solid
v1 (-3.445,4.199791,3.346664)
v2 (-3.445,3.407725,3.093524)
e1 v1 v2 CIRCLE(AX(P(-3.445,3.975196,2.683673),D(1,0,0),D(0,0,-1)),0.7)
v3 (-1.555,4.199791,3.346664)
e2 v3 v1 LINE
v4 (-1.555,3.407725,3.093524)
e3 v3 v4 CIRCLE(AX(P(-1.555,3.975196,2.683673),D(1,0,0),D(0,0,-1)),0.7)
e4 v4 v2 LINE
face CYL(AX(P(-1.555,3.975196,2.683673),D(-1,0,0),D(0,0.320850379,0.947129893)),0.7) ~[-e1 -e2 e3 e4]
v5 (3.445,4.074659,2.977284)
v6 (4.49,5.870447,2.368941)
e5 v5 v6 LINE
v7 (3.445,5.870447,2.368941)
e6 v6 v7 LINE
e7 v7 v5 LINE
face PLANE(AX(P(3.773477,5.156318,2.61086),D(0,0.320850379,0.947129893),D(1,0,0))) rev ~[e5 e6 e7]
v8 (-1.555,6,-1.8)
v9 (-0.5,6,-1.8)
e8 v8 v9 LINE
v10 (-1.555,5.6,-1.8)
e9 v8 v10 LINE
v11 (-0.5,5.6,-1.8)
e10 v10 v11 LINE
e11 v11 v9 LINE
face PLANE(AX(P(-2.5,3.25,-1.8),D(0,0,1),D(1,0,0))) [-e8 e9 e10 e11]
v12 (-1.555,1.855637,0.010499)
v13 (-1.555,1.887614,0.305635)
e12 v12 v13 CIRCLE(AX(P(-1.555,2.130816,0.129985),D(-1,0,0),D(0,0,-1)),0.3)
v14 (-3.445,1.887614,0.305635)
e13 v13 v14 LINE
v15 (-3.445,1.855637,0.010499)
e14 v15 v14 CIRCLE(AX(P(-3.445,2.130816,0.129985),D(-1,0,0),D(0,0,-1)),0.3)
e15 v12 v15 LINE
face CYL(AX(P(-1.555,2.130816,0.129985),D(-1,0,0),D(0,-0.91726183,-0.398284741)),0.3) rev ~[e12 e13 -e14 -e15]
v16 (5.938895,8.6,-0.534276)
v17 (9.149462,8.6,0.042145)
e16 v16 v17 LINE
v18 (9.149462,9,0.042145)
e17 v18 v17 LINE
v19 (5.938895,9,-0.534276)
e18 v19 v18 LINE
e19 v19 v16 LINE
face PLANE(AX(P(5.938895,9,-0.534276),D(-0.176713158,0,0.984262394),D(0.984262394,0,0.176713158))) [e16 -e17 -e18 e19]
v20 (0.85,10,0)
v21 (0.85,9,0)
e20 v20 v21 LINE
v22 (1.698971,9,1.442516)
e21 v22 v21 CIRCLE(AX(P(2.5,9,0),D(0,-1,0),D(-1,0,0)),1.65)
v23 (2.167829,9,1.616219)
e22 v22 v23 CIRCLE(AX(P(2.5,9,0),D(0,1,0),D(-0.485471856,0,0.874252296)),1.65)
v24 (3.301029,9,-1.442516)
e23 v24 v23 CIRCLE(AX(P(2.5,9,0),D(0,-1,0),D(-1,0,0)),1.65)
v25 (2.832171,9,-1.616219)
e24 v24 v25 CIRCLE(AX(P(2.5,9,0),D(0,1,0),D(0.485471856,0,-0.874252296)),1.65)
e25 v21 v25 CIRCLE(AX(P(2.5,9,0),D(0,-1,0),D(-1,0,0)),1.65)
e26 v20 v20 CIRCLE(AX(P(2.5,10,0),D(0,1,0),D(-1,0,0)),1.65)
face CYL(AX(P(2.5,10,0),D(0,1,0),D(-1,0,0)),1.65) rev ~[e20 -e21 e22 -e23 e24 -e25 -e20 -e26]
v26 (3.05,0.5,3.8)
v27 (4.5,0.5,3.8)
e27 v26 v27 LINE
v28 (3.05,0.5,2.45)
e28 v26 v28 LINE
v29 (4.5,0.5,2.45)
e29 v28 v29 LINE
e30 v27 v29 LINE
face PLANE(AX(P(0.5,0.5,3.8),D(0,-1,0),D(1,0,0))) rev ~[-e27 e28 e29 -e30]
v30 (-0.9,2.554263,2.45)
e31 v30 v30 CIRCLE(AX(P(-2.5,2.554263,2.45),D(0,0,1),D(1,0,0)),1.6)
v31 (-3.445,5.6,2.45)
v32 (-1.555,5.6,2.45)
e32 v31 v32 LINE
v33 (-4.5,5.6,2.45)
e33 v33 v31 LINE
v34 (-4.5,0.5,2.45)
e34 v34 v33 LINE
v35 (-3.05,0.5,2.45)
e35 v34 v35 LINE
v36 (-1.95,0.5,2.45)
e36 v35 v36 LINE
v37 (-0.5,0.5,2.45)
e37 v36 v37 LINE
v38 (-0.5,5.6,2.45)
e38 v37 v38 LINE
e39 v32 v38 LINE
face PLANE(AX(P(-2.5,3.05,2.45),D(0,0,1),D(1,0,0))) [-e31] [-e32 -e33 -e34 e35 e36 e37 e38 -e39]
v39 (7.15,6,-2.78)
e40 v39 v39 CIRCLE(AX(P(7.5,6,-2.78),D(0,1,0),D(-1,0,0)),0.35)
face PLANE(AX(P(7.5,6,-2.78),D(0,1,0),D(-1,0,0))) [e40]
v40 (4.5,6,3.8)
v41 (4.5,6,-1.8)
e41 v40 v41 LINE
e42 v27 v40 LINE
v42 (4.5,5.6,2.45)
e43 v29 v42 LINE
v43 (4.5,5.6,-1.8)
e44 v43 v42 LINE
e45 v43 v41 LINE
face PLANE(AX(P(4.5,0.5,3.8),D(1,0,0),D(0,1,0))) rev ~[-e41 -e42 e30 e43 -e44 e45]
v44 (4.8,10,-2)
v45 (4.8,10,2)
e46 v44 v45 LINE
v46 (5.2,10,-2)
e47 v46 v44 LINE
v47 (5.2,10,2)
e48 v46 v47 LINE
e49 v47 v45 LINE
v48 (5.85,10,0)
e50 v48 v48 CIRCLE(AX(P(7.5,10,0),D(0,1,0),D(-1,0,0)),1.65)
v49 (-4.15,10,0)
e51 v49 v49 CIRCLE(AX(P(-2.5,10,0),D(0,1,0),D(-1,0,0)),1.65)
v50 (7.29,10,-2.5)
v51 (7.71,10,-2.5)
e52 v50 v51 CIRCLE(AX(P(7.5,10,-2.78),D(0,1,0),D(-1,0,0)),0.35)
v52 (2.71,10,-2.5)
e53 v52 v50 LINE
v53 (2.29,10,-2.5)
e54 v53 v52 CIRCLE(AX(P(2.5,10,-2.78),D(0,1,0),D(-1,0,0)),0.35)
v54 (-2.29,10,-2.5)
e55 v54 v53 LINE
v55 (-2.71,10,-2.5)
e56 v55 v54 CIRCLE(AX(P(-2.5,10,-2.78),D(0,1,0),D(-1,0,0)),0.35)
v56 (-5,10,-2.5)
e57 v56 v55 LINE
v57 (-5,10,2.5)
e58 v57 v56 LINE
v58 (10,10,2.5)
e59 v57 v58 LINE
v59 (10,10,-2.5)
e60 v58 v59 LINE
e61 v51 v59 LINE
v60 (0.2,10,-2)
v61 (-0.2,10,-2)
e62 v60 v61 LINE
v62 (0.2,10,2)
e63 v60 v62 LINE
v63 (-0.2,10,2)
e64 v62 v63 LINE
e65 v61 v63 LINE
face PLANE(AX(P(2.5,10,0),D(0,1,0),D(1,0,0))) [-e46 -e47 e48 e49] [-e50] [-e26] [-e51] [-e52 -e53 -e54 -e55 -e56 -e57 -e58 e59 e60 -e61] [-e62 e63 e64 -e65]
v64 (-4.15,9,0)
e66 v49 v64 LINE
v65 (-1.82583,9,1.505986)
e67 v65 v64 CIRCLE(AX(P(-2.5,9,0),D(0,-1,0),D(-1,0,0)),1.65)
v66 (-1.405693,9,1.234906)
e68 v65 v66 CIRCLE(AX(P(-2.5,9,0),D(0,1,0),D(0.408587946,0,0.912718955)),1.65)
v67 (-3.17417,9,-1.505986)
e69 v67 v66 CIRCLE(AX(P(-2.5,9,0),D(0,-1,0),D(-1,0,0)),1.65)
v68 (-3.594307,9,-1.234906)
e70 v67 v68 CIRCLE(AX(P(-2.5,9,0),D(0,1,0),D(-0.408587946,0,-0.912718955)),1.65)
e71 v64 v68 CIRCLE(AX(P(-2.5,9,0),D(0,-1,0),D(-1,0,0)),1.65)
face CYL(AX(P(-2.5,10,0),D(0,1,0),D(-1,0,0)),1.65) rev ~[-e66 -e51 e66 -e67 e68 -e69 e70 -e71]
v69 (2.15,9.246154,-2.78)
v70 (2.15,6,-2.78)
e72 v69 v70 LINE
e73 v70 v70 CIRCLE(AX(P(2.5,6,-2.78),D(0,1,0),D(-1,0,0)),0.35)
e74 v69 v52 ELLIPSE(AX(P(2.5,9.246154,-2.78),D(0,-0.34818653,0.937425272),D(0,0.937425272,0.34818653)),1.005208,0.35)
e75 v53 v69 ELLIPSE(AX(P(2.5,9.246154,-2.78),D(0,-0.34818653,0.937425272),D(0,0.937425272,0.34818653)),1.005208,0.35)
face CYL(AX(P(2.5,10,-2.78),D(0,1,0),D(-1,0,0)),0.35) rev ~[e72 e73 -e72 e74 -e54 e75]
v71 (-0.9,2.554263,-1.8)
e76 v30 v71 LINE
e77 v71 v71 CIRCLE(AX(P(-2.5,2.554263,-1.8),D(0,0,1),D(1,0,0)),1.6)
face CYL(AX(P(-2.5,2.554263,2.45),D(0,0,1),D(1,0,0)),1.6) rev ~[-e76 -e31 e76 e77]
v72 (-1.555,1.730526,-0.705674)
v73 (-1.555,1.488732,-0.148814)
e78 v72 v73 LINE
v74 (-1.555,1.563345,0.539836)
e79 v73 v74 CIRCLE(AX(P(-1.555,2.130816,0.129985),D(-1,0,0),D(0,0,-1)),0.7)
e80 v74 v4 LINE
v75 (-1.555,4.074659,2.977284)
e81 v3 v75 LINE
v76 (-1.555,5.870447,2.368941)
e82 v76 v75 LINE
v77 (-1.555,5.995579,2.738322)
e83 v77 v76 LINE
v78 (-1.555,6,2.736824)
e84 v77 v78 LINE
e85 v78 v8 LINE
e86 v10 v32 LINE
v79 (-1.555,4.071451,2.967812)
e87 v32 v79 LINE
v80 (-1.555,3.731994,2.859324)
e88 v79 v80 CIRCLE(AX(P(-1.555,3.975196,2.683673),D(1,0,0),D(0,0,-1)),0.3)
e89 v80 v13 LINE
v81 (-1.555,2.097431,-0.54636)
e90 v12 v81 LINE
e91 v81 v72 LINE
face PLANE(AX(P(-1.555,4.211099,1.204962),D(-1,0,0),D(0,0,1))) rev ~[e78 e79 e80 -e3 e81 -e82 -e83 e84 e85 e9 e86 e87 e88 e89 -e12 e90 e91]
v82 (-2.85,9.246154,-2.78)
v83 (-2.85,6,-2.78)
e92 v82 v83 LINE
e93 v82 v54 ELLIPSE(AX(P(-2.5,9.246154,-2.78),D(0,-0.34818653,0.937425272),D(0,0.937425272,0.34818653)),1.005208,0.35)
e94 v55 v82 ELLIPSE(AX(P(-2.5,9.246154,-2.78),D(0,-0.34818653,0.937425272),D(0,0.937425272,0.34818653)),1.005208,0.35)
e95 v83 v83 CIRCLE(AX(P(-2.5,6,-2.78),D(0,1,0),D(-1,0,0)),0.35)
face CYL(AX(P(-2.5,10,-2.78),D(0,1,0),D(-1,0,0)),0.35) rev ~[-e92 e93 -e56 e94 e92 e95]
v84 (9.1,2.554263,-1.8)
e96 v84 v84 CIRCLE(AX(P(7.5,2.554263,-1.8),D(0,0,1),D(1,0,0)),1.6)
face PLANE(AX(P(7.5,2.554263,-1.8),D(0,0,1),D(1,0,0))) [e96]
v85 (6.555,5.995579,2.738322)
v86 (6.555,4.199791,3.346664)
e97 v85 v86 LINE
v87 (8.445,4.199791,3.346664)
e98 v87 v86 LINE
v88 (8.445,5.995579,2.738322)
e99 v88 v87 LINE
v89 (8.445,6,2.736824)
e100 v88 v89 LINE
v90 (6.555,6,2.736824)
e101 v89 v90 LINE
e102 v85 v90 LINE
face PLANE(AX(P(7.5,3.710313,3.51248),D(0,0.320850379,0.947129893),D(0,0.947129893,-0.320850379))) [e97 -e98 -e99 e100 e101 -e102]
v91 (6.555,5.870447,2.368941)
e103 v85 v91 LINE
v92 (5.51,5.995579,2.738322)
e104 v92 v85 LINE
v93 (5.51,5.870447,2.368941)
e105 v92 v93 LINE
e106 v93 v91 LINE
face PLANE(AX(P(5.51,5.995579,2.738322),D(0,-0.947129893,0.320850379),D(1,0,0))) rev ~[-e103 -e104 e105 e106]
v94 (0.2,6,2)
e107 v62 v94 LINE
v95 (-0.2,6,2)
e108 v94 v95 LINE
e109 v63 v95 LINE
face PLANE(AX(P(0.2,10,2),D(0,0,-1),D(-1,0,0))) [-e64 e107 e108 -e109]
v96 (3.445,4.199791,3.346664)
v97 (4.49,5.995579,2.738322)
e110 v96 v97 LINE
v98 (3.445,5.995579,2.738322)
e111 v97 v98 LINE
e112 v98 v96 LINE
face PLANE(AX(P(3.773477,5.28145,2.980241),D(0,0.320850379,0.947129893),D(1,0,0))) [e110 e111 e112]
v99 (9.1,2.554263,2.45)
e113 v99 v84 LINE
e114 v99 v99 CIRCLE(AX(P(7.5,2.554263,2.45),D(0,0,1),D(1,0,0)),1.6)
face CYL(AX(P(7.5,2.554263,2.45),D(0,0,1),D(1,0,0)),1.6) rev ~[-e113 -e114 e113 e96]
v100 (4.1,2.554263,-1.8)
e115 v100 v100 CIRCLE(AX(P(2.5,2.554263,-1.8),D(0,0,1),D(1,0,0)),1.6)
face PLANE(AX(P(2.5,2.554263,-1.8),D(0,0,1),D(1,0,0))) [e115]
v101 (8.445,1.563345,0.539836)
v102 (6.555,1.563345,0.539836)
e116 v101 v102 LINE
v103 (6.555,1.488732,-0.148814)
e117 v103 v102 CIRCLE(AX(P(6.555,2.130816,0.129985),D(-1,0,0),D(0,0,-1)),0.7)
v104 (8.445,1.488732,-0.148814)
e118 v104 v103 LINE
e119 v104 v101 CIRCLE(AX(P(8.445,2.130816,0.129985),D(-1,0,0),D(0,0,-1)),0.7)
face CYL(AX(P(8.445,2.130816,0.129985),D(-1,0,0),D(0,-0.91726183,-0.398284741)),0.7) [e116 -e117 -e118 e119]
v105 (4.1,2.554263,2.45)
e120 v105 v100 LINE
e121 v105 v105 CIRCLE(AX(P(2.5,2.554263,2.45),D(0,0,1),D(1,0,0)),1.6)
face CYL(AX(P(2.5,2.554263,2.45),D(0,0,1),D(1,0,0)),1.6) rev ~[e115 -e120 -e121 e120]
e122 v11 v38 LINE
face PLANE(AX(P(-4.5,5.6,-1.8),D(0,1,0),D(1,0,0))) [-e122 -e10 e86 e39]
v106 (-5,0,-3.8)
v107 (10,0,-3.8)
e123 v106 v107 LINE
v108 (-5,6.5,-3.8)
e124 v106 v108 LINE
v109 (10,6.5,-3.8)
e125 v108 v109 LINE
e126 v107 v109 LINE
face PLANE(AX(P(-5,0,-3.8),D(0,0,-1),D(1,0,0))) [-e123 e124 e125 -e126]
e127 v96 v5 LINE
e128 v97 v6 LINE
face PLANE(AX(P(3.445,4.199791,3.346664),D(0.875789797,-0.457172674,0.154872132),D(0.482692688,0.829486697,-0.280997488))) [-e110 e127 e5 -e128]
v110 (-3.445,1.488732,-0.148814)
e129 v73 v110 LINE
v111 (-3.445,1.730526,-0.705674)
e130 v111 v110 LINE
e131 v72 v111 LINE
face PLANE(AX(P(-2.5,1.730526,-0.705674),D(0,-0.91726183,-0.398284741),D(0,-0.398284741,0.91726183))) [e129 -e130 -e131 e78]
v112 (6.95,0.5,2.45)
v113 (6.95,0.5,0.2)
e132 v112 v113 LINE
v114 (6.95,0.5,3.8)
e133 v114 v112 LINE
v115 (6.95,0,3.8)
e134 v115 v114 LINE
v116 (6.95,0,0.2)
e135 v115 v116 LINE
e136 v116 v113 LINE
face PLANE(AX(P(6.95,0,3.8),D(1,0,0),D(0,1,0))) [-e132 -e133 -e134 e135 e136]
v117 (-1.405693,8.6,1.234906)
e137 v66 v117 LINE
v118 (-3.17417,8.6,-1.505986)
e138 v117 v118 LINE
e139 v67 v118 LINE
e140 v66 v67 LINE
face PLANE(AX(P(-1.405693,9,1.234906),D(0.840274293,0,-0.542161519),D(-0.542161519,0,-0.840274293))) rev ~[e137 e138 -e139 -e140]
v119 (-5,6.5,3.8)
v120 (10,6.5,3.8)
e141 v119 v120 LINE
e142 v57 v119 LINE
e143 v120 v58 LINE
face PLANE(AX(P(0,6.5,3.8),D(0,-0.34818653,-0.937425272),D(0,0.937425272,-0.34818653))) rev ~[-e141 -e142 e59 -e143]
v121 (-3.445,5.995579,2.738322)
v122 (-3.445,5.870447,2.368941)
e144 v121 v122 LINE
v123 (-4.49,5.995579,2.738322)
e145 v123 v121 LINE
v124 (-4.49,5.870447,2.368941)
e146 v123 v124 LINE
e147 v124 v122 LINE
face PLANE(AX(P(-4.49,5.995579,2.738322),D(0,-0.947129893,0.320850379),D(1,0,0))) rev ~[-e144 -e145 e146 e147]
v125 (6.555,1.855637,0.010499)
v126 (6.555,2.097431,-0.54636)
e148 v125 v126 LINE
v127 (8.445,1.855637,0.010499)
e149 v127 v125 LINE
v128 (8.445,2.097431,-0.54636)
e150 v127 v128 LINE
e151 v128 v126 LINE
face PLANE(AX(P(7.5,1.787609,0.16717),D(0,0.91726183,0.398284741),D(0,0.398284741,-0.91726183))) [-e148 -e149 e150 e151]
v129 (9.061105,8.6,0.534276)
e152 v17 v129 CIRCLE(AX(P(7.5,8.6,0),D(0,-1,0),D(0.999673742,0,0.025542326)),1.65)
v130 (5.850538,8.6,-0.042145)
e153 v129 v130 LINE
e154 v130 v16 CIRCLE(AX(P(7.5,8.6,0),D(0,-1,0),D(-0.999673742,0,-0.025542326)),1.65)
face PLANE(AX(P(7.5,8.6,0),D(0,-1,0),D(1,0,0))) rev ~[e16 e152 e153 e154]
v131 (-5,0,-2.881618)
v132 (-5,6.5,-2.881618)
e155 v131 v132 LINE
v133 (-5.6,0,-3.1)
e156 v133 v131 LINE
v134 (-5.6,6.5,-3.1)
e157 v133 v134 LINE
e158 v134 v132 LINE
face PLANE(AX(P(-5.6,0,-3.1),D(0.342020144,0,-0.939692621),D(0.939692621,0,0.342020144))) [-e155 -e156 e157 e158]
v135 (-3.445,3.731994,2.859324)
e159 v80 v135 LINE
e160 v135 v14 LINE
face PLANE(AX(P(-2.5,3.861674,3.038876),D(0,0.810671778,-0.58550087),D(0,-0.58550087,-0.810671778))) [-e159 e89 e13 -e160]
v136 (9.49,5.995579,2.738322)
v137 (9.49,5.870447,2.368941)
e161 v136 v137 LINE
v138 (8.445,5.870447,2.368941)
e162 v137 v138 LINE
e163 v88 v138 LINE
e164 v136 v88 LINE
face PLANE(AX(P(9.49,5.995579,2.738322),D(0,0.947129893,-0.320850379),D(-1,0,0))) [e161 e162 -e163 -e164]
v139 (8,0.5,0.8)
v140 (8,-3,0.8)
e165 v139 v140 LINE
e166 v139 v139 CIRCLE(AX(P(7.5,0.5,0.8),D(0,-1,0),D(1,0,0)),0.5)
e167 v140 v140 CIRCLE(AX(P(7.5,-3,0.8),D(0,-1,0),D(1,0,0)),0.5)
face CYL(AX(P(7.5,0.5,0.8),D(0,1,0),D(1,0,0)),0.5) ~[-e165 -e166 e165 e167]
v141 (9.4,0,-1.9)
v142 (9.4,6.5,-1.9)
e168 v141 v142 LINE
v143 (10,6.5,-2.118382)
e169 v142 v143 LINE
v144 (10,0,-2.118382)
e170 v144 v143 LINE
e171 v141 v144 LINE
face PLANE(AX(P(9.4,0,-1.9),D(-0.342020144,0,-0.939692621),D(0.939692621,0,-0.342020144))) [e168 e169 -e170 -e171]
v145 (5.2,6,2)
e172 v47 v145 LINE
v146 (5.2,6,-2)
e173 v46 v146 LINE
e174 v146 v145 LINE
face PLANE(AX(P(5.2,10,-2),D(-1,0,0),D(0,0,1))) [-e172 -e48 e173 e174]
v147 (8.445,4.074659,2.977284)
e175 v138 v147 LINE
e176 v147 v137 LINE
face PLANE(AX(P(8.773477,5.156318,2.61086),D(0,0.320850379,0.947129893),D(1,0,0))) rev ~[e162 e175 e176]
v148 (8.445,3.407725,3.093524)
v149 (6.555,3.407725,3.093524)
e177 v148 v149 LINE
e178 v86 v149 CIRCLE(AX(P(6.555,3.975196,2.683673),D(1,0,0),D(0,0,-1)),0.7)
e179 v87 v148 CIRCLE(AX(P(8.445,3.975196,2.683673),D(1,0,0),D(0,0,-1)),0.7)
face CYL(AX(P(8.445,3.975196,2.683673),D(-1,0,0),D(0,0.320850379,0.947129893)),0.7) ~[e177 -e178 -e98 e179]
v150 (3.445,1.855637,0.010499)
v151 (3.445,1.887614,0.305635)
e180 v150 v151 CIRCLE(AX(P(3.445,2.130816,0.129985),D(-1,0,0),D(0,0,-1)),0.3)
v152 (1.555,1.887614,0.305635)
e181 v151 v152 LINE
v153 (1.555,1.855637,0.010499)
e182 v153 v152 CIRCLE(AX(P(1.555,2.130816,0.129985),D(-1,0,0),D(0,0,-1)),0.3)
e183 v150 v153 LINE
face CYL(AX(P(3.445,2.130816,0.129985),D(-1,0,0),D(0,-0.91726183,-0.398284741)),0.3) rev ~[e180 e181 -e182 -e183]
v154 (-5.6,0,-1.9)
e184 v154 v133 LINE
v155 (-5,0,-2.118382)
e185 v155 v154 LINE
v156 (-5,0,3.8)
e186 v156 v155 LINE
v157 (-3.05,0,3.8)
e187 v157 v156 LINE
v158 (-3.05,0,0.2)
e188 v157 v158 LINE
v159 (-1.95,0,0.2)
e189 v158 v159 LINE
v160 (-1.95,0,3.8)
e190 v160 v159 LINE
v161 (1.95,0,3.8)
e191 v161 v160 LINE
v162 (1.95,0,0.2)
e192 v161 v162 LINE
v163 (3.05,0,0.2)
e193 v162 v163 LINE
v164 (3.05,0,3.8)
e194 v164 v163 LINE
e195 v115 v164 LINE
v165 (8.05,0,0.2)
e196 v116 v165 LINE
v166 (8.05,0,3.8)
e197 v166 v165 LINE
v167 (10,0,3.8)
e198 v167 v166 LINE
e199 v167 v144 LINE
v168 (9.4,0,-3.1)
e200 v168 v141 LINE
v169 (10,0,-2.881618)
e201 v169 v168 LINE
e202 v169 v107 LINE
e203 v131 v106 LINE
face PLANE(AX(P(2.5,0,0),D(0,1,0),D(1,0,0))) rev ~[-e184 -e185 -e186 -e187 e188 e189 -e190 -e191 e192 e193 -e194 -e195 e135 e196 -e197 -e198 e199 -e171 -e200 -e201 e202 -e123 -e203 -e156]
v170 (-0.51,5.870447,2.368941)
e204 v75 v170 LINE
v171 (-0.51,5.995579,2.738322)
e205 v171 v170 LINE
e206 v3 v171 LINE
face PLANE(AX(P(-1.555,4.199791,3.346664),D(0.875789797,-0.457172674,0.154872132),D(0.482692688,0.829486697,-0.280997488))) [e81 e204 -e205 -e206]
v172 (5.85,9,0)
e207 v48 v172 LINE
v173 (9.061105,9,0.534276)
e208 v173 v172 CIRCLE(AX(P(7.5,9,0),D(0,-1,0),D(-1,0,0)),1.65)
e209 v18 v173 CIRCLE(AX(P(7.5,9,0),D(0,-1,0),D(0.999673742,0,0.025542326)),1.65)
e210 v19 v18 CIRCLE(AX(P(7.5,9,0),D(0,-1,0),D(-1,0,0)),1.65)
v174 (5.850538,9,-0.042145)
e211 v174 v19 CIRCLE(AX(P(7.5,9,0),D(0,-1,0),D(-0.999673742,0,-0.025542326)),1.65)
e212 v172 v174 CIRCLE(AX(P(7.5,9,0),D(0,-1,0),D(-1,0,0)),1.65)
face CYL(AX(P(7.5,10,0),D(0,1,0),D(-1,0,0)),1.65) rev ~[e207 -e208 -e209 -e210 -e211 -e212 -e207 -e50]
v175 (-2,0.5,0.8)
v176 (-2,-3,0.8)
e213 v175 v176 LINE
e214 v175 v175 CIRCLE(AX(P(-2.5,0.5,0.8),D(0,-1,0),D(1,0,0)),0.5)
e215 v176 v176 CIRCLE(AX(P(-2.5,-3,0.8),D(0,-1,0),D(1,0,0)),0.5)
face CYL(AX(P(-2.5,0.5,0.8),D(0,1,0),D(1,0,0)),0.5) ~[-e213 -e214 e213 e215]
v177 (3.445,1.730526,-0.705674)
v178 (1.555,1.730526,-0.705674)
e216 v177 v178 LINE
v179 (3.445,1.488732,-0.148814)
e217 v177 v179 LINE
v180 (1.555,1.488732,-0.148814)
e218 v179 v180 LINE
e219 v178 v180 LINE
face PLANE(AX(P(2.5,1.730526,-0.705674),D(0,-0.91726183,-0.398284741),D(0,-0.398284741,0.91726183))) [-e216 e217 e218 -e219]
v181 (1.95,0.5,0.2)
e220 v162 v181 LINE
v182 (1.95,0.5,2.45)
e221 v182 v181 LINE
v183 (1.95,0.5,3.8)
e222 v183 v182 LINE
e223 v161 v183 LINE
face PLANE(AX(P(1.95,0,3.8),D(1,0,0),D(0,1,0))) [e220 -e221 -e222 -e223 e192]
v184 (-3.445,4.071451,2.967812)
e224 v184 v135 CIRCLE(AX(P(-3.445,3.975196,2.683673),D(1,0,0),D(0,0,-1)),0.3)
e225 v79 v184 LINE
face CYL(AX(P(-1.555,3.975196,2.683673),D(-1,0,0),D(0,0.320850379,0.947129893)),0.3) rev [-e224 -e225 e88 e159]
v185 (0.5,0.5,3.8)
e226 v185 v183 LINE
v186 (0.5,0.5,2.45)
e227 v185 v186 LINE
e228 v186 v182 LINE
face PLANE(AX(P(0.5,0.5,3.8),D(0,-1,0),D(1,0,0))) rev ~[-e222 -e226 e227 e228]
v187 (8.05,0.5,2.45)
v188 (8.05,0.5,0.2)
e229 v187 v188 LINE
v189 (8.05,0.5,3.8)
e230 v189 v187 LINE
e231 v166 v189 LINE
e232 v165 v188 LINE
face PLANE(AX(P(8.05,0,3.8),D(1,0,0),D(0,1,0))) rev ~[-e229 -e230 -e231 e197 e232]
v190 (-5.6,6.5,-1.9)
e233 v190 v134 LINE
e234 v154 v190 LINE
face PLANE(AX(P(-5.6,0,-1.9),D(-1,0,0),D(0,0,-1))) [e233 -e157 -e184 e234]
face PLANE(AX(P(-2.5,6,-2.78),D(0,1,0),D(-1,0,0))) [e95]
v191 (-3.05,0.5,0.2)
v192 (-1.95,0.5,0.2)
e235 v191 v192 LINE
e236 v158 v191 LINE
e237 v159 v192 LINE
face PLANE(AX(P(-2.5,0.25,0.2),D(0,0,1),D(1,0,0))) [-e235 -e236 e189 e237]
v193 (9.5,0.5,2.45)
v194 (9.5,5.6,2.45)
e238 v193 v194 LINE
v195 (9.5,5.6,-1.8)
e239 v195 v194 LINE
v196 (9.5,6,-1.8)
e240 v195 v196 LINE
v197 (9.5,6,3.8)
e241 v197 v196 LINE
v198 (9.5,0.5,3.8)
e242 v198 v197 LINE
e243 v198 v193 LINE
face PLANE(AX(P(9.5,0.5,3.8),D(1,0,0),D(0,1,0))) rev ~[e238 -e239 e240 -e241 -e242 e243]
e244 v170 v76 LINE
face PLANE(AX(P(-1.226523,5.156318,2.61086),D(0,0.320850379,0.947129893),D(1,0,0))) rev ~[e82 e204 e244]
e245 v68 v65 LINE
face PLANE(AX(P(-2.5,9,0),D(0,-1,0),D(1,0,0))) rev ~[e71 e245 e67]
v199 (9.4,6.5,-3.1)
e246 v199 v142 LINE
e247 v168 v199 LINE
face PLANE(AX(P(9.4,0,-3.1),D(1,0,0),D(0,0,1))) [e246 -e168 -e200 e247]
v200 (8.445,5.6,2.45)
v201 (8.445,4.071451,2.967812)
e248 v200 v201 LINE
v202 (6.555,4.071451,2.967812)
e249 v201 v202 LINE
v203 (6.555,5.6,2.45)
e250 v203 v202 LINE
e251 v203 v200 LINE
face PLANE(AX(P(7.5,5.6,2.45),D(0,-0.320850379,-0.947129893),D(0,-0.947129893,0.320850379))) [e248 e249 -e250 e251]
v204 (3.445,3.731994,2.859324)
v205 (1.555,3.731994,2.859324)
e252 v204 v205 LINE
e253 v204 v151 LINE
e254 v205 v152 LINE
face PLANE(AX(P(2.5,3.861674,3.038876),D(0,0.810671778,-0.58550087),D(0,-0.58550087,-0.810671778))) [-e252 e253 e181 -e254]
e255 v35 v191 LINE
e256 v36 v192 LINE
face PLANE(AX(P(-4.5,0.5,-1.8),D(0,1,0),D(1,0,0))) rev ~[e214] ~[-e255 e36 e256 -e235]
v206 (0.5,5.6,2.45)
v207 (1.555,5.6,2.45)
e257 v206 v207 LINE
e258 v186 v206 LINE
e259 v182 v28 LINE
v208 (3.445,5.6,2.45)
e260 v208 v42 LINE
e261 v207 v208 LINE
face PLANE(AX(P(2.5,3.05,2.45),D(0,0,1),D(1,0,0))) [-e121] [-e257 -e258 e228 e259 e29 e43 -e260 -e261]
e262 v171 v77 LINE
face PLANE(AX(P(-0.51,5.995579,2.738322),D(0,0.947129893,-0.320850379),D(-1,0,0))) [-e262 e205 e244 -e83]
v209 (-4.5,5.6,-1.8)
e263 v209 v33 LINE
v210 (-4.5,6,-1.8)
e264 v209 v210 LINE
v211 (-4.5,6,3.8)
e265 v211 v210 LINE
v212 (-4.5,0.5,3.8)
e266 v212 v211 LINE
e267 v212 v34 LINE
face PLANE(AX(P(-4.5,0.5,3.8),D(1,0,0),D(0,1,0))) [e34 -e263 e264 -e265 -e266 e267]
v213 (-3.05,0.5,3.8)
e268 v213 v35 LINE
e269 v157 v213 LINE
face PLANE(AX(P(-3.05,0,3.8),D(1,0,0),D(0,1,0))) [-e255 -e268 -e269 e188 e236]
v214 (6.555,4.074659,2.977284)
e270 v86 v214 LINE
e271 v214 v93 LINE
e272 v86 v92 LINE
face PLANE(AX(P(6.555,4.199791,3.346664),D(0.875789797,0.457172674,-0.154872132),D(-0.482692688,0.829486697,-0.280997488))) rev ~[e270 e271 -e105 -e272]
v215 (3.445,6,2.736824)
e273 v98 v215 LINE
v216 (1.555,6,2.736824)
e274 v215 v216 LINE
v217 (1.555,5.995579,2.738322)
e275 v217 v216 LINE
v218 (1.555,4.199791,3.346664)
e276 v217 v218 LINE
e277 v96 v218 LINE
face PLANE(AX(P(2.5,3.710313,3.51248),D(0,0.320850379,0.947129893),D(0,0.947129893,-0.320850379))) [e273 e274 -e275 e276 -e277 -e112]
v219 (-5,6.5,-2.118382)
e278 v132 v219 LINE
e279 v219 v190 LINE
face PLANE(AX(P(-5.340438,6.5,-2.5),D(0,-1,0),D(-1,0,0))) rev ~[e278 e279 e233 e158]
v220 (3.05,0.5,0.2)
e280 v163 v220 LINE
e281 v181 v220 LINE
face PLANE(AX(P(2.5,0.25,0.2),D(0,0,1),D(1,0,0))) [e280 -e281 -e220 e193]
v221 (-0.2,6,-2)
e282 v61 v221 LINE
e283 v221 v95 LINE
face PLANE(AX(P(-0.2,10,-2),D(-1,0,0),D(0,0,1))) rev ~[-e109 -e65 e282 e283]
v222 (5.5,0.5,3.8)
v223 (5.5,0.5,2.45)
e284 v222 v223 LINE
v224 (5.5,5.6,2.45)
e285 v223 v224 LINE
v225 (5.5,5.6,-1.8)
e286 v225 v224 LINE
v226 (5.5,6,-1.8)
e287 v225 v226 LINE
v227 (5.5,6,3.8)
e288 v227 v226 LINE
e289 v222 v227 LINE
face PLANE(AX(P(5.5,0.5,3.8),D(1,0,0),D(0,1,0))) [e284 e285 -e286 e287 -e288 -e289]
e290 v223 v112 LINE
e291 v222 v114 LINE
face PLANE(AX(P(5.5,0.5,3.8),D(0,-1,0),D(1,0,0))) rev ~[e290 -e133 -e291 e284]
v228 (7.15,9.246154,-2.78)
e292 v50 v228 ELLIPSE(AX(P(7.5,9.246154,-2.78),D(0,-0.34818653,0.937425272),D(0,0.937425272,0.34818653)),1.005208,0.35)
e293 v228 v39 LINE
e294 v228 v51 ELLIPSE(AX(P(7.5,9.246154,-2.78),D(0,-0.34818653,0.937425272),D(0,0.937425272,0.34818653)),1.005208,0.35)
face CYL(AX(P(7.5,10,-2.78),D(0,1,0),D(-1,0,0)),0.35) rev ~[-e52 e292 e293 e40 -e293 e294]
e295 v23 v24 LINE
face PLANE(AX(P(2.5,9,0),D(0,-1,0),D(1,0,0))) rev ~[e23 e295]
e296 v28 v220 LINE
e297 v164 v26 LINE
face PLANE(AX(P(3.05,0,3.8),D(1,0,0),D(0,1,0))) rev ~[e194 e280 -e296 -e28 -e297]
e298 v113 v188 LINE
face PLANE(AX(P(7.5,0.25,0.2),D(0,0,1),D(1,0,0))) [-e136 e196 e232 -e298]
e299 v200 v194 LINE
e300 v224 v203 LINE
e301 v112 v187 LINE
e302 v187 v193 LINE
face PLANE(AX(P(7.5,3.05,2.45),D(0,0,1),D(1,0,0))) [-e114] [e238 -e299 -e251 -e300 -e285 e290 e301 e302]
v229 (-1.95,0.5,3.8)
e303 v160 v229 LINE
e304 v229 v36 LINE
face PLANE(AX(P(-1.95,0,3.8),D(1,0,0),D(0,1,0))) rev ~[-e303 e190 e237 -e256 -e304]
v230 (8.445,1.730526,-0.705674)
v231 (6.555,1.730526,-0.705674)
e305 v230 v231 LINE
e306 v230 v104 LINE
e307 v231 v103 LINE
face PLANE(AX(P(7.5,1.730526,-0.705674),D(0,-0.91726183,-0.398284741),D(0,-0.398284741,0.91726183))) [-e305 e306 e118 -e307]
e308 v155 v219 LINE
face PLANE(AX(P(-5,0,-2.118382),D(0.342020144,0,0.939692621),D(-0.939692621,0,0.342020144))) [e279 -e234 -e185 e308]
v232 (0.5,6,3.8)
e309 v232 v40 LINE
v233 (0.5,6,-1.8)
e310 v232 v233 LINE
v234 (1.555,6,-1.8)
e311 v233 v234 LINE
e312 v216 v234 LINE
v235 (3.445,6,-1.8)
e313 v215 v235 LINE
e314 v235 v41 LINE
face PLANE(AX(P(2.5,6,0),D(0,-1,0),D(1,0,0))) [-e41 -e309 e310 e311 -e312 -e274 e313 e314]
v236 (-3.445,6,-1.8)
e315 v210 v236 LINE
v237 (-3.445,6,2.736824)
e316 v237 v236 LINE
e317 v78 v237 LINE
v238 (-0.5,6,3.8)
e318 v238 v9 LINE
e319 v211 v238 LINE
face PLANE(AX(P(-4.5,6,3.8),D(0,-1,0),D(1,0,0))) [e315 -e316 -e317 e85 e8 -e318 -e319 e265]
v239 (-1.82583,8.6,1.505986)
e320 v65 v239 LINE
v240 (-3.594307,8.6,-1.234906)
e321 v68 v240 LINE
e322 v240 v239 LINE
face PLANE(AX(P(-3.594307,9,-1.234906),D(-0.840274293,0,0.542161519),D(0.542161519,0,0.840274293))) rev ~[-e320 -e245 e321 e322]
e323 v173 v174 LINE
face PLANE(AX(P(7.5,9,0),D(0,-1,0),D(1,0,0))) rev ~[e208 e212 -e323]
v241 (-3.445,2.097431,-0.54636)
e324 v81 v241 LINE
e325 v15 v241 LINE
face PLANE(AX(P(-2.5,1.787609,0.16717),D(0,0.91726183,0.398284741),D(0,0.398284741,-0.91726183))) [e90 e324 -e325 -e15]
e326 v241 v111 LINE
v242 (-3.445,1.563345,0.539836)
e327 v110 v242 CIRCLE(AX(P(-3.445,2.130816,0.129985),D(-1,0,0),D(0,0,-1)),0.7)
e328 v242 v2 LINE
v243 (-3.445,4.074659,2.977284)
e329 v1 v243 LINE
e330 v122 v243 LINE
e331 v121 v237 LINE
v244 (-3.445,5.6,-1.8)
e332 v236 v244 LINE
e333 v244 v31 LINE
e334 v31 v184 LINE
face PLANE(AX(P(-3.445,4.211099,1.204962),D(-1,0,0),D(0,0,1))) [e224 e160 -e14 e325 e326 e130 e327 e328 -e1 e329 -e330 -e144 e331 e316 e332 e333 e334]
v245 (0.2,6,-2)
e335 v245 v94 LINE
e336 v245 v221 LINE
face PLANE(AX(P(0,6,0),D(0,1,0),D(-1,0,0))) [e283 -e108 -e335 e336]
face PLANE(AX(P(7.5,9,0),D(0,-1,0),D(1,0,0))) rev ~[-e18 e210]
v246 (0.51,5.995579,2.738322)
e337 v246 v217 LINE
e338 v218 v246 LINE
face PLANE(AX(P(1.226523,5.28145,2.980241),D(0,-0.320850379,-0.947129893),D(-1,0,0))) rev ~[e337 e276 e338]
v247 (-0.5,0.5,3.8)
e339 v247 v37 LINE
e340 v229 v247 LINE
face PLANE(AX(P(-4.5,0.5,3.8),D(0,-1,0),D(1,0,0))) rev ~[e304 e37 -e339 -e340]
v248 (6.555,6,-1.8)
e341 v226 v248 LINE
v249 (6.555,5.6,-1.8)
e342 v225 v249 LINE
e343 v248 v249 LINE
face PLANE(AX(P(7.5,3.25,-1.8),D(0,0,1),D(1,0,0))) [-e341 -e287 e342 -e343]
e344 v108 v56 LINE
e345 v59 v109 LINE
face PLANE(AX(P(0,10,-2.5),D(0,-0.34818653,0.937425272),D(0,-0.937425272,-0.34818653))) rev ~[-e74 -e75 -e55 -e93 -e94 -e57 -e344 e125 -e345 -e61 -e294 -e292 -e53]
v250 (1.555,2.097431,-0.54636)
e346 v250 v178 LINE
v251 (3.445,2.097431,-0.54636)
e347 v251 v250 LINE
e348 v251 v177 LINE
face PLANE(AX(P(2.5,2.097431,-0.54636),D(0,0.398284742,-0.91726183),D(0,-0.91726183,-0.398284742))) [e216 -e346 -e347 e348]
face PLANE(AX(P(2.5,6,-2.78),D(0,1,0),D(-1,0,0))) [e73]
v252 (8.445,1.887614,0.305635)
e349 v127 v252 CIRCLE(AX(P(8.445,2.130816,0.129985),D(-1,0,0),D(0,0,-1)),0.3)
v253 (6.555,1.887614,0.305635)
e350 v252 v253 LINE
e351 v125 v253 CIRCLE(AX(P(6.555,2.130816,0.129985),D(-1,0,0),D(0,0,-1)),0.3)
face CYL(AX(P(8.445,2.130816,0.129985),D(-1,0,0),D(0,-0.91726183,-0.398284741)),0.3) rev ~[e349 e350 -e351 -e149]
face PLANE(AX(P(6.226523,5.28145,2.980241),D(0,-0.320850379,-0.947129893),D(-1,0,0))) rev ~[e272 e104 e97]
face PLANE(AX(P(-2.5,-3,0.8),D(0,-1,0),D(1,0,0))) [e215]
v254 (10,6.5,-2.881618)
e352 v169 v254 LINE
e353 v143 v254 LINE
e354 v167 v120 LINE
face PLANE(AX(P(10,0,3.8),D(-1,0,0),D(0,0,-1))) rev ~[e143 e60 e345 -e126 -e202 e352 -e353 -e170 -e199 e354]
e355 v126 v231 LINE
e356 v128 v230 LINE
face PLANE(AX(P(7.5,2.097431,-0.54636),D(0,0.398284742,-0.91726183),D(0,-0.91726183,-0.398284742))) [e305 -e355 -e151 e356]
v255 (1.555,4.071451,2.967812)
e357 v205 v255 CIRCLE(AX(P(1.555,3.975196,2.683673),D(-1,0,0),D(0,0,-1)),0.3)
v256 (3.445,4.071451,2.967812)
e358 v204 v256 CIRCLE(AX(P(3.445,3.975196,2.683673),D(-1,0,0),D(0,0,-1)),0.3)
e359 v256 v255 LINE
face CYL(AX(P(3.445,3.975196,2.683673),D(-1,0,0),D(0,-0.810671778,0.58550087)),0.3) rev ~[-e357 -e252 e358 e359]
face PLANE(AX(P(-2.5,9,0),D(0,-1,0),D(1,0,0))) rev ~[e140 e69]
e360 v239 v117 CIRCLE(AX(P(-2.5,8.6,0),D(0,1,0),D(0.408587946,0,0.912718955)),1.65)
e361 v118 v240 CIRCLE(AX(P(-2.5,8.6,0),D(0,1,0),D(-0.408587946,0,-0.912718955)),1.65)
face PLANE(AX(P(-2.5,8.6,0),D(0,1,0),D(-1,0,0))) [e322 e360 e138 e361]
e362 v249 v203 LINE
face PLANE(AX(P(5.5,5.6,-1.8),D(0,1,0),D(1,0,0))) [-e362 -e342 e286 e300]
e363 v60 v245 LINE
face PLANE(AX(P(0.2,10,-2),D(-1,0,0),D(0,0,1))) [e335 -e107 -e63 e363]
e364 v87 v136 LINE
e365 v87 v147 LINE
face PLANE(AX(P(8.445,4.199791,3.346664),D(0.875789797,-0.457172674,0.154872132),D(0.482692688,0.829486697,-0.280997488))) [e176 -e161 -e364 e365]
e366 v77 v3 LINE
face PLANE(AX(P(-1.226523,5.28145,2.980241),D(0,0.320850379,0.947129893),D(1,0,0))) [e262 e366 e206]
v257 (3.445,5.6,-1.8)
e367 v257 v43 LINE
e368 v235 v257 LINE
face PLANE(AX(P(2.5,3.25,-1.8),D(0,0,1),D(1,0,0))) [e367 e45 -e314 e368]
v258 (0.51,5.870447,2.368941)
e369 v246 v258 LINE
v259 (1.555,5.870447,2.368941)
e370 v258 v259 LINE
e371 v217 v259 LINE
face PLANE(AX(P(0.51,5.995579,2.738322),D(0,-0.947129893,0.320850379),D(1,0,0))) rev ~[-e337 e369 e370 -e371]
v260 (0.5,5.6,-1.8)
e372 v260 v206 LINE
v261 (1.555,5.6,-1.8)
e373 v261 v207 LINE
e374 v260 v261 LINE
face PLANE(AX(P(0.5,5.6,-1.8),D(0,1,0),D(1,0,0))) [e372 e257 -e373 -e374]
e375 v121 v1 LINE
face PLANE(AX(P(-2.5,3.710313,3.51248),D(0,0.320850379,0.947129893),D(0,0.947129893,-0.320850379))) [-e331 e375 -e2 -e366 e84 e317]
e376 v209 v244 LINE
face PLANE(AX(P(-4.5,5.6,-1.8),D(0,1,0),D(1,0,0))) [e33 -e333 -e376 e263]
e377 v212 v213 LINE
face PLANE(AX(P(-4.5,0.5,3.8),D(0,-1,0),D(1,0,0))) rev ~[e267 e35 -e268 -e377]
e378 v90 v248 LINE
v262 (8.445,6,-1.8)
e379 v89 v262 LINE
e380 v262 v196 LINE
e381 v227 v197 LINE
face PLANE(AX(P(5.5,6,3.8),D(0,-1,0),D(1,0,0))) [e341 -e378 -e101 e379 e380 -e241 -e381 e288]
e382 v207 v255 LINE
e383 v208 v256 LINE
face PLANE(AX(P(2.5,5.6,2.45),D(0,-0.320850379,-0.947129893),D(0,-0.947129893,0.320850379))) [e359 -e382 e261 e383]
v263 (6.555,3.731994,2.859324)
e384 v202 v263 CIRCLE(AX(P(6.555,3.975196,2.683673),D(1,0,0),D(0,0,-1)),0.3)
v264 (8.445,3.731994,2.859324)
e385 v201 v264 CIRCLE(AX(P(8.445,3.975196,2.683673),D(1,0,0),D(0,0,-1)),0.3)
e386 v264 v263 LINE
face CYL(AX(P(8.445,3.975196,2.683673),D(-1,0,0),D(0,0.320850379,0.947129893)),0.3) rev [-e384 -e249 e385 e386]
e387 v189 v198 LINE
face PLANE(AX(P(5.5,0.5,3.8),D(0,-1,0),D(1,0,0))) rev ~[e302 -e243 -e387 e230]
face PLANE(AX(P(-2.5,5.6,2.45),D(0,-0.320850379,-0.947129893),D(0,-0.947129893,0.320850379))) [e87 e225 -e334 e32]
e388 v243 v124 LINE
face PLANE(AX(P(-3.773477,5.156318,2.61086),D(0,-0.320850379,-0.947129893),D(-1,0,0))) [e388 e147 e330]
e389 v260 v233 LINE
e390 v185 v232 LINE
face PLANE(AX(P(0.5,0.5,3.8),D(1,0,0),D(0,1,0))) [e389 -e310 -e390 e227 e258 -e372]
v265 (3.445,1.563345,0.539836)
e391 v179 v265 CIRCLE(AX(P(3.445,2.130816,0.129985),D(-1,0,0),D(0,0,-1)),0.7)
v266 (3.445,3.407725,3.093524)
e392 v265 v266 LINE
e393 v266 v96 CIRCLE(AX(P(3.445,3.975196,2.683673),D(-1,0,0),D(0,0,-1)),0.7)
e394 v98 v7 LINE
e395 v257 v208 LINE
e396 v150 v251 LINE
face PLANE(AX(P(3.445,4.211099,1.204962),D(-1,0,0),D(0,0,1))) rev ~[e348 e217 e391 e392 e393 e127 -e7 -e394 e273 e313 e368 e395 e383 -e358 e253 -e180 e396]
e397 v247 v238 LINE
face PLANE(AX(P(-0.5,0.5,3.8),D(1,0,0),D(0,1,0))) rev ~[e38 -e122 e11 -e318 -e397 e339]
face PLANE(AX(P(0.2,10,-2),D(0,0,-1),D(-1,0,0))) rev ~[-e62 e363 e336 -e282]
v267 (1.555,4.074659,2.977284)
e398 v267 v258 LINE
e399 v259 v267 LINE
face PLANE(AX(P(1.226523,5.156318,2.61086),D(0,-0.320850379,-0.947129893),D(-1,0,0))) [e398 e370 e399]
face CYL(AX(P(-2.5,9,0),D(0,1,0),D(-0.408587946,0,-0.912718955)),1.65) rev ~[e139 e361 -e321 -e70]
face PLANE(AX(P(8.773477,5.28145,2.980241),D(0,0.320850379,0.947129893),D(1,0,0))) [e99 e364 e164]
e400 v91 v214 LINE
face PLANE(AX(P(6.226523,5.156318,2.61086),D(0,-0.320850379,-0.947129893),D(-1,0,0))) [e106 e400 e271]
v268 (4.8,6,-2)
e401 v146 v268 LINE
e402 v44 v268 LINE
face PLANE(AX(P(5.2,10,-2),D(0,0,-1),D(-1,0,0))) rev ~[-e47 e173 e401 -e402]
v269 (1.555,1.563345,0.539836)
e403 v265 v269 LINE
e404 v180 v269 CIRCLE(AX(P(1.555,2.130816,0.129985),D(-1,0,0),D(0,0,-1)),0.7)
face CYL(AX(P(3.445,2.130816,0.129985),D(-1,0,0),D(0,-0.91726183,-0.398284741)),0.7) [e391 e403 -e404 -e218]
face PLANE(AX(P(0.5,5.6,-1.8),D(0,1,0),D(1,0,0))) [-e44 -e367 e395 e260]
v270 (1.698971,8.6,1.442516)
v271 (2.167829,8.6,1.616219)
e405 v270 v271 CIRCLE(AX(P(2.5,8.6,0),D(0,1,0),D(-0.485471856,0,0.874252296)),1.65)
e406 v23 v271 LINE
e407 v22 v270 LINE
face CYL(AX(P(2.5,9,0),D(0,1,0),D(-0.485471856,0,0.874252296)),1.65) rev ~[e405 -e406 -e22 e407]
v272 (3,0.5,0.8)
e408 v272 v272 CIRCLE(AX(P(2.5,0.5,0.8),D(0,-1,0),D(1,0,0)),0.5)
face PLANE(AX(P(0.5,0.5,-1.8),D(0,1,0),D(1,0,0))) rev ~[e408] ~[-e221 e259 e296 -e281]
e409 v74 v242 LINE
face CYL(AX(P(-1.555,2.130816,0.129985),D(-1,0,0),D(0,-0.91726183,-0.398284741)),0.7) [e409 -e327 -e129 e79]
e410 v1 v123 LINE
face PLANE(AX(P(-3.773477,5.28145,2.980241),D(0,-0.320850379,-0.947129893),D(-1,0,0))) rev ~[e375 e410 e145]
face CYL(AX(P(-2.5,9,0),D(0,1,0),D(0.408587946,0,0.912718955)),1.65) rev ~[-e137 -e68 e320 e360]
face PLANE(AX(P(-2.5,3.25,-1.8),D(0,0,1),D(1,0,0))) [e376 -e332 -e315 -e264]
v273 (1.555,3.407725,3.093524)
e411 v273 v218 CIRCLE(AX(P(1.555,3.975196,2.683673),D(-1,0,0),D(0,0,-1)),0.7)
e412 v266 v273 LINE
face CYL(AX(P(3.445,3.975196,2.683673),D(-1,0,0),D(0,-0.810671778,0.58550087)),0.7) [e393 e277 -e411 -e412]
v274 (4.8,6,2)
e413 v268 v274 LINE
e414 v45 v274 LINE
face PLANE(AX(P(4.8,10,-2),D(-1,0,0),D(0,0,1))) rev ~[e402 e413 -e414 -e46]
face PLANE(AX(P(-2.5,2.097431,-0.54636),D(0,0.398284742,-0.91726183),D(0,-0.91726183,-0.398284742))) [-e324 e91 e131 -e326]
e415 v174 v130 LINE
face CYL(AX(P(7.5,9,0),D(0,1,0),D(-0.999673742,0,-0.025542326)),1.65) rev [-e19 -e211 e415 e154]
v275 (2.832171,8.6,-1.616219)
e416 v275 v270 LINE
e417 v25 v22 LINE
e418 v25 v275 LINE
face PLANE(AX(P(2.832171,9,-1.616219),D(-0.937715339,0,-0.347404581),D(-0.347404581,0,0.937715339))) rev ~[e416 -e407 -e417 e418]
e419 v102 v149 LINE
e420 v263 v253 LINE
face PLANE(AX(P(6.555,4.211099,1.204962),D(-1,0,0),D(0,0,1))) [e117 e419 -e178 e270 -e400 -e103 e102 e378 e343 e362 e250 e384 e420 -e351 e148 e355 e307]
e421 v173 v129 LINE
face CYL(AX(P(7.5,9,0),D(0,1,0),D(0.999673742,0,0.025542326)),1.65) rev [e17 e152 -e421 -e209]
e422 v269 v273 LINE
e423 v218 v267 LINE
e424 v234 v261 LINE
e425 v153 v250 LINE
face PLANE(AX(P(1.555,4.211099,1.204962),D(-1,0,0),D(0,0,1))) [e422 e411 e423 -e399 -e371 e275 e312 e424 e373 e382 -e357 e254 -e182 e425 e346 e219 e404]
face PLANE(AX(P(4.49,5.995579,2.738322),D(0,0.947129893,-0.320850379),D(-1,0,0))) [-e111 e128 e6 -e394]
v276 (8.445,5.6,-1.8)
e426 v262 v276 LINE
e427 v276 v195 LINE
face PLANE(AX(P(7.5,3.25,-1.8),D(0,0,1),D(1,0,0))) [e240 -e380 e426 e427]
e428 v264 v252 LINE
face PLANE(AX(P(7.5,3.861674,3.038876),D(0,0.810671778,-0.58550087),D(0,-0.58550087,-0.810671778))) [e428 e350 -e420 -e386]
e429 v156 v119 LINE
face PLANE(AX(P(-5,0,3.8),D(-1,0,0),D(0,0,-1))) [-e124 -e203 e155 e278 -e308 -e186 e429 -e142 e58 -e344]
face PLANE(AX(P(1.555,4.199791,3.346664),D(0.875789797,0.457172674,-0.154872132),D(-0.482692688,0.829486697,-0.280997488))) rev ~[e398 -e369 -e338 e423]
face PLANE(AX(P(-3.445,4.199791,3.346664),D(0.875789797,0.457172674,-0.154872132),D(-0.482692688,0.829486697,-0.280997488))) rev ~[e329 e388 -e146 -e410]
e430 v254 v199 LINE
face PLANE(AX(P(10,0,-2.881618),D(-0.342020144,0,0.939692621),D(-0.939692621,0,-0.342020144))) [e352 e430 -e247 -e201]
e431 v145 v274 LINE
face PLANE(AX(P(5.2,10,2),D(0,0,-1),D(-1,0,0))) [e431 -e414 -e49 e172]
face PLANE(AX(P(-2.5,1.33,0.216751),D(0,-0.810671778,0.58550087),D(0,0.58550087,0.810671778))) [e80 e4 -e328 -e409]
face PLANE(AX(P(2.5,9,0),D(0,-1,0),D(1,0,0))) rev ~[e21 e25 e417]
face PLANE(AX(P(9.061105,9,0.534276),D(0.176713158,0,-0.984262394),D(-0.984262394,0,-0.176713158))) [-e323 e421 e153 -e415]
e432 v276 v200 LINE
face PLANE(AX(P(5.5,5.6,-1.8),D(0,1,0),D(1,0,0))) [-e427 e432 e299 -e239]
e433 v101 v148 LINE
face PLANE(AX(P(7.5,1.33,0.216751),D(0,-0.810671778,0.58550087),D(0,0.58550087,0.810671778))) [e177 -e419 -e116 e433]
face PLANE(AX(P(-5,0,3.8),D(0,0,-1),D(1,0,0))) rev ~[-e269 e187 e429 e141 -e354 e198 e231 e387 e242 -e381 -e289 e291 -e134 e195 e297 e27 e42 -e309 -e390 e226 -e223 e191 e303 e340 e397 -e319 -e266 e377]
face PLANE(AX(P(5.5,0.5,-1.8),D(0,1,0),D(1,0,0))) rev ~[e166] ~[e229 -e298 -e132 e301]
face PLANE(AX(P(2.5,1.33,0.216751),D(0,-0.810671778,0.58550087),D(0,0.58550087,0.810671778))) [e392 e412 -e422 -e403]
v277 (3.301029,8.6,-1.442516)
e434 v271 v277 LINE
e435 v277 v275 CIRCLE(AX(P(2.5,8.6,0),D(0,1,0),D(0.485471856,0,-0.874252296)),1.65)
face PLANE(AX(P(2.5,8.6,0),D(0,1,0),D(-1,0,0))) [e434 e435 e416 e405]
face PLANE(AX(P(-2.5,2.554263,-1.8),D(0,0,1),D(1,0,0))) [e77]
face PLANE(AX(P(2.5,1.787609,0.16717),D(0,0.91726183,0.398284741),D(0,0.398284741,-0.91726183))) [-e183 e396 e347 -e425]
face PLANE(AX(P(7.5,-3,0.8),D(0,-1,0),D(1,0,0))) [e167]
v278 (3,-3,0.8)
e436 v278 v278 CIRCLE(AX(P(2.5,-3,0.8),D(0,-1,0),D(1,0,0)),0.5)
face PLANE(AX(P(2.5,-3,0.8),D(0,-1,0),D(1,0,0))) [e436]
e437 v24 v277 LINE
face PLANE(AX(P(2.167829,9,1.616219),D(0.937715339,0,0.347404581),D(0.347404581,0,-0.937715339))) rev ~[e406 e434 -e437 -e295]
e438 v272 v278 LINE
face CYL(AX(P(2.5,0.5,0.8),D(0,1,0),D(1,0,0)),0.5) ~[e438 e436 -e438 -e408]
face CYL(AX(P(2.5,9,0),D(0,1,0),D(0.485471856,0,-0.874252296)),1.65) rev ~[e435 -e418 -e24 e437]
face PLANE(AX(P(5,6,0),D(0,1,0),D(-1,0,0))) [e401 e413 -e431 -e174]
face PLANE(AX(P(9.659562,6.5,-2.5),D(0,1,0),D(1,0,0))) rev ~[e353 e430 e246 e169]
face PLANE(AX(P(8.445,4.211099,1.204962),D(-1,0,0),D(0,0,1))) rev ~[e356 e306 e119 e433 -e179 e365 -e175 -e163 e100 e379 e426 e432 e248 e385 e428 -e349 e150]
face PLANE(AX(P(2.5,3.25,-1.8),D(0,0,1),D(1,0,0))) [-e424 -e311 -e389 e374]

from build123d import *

# Parameters (mm, degrees)
SKETCH1_W               = 15
SKETCH1_H               = 7.6
EXTRUDE1_DEPTH          = 10
SKETCH2_OUTSIDE_W       = 13.512
SKETCH2_OUTSIDE_H       = 15.912
CUT_EXTRUDE1_DEPTH      = 11
CUT_EXTRUDE1_DEPTH_BACK = 6
SKETCH3_R               = 1.65
SKETCH3_R_2             = 0.35
SKETCH3_W               = 0.4
SKETCH3_H               = 4
CUT_EXTRUDE2_DEPTH      = 4
SKETCH4_W               = 4
SKETCH4_H               = 5.5
CUT_EXTRUDE3_DEPTH      = 5.6
EXTRUDE3_DEPTH          = 6.5
CUT_EXTRUDE5_DEPTH      = 6.5
SKETCH10_W              = 1.1
SKETCH10_H              = 0.5
CUT_EXTRUDE6_DEPTH      = 3.6
SKETCH5_W               = 4
SKETCH5_H               = 5.1
EXTRUDE2_DEPTH          = 4.25
SKETCH6_R               = 1.6
CUT_EXTRUDE4_DEPTH      = 4.25
SKETCH11_R              = 0.5
EXTRUDE4_DEPTH          = 3.5
SKETCH12_R              = 1.65
EXTRUDE5_DEPTH          = 3
CUT_EXTRUDE7_DEPTH      = 0.4
EXTRUDE6_DEPTH          = 0.945
EXTRUDE9_DEPTH          = 0.39
LPATTERN1_COUNT         = 3
LPATTERN1_PITCH         = 5
FILLET1_R               = 0.3
FILLET2_R               = 0.7


with BuildPart() as part:
    # Sketch1 → Extrude1 (new body)
    with BuildSketch(Plane(origin=(0, 0, 0), x_dir=(1, 0, 0), z_dir=(0, 1, 0))):
        with Locations((2.5, 0)):
            Rectangle(SKETCH1_W, SKETCH1_H)
    extrude(amount=EXTRUDE1_DEPTH)

    # Sketch2 outside → Cut-Extrude1 (cut, two sides)
    with BuildSketch(Plane(origin=(0, 0, 0), x_dir=(0, 0, -1), z_dir=(1, 0, 0))) as cut_extrude1_sk:
        with Locations((0, 5)):
            Rectangle(SKETCH2_OUTSIDE_W, SKETCH2_OUTSIDE_H)
        Polygon((2.5, 10), (3.8, 6.5), (3.8, 0), (-3.8, 0), (-3.8, 6.5), (-2.5, 10), align=None, mode=Mode.SUBTRACT)
    extrude(amount=CUT_EXTRUDE1_DEPTH, mode=Mode.SUBTRACT)
    extrude(cut_extrude1_sk.sketch, amount=-CUT_EXTRUDE1_DEPTH_BACK, mode=Mode.SUBTRACT)

    # Sketch3 → Cut-Extrude2 (cut)
    with BuildSketch(Plane(origin=(0, 10, 0), x_dir=(-1, 0, 0), z_dir=(0, 1, 0))):
        with Locations((2.5, 0)):
            Circle(SKETCH3_R)
        with Locations((-2.5, 0)):
            Circle(SKETCH3_R)
        with Locations((2.5, -2.78)):
            Circle(SKETCH3_R_2)
        with Locations((-2.5, -2.78)):
            Circle(SKETCH3_R_2)
        with Locations((-7.5, 0)):
            Circle(SKETCH3_R)
        with Locations((-7.5, -2.78)):
            Circle(SKETCH3_R_2)
        Rectangle(SKETCH3_W, SKETCH3_H)
        with Locations((-5, 0)):
            Rectangle(SKETCH3_W, SKETCH3_H)
    extrude(amount=-CUT_EXTRUDE2_DEPTH, mode=Mode.SUBTRACT)

    # Sketch4 → Cut-Extrude3 (cut)
    with BuildSketch(Plane.XY.offset(3.8)):
        with Locations((-2.5, 3.25)):
            Rectangle(SKETCH4_W, SKETCH4_H)
        with Locations((2.5, 3.25)):
            Rectangle(SKETCH4_W, SKETCH4_H)
        with Locations((7.5, 3.25)):
            Rectangle(SKETCH4_W, SKETCH4_H)
    extrude(amount=-CUT_EXTRUDE3_DEPTH, mode=Mode.SUBTRACT)

    # Sketch7 → Extrude3 (add)
    with BuildSketch(Plane(origin=(0, 0, 0), x_dir=(1, 0, 0), z_dir=(0, 1, 0))):
        Polygon((-5.6, 3.1), (-5, 2.881617859), (-5, 2.118382141), (-5.6, 1.9), align=None)
    extrude(amount=EXTRUDE3_DEPTH)

    # Sketch9 → Cut-Extrude5 (cut)
    with BuildSketch(Plane(origin=(0, 0, 0), x_dir=(1, 0, 0), z_dir=(0, 1, 0))):
        Polygon((10, 2.881617859), (9.4, 3.1), (9.4, 1.9), (10, 2.118382141), align=None)
    extrude(amount=CUT_EXTRUDE5_DEPTH, mode=Mode.SUBTRACT)

    # Sketch10 → Cut-Extrude6 (cut)
    with BuildSketch(Plane.XY.offset(3.8)):
        with Locations((-2.5, 0.25)):
            Rectangle(SKETCH10_W, SKETCH10_H)
        with Locations((2.5, 0.25)):
            Rectangle(SKETCH10_W, SKETCH10_H)
        with Locations((7.5, 0.25)):
            Rectangle(SKETCH10_W, SKETCH10_H)
    extrude(amount=-CUT_EXTRUDE6_DEPTH, mode=Mode.SUBTRACT)

    # Sketch5 → Extrude2 (add)
    with BuildSketch(Plane.XY.offset(-1.8)):
        with Locations((-2.5, 3.05)):
            Rectangle(SKETCH5_W, SKETCH5_H)
        with Locations((2.5, 3.05)):
            Rectangle(SKETCH5_W, SKETCH5_H)
        with Locations((7.5, 3.05)):
            Rectangle(SKETCH5_W, SKETCH5_H)
    extrude(amount=EXTRUDE2_DEPTH)

    # Sketch6 → Cut-Extrude4 (cut)
    with BuildSketch(Plane.XY.offset(2.45)):
        with Locations((-2.5, 2.554263468)):
            Circle(SKETCH6_R)
        with Locations((2.5, 2.554263468)):
            Circle(SKETCH6_R)
        with Locations((7.5, 2.554263468)):
            Circle(SKETCH6_R)
    extrude(amount=-CUT_EXTRUDE4_DEPTH, mode=Mode.SUBTRACT)

    # Sketch11 → Extrude4 (add)
    with BuildSketch(Plane.XZ.offset(-0.5)):
        with Locations((-2.5, 0.8)):
            Circle(SKETCH11_R)
        with Locations((2.5, 0.8)):
            Circle(SKETCH11_R)
        with Locations((7.5, 0.8)):
            Circle(SKETCH11_R)
    extrude(amount=EXTRUDE4_DEPTH)

    # Sketch12 → Extrude5 (add)
    with BuildSketch(Plane.XZ.offset(-6)):
        with Locations((2.5, 0)):
            Circle(SKETCH12_R)
        with Locations((-2.5, 0)):
            Circle(SKETCH12_R)
        with Locations((7.5, 0)):
            Circle(SKETCH12_R)
    extrude(amount=-EXTRUDE5_DEPTH)

    # Sketch13 → Cut-Extrude7 (cut)
    with BuildSketch(Plane(origin=(0, 9, 0), x_dir=(-1, 0, 0), z_dir=(0, 1, 0))):
        with BuildLine():
            Line((3.594307251, -1.234905519), (1.825829895, 1.505986278))
            ThreePointArc((1.825829895, 1.505986278), (1.605433494, 1.386452583), (1.405692749, 1.234905519))
            Line((1.405692749, 1.234905519), (3.174170105, -1.505986278))
            ThreePointArc((3.174170105, -1.505986278), (3.394566506, -1.386452583), (3.594307251, -1.234905519))
        make_face()
        with BuildLine():
            Line((-5.938894906, -0.534276038), (-9.149461674, 0.042144841))
            ThreePointArc((-9.149461674, 0.042144841), (-9.12403295, 0.291576712), (-9.061105094, 0.534276038))
            Line((-9.061105094, 0.534276038), (-5.850538326, -0.042144841))
            ThreePointArc((-5.850538326, -0.042144841), (-5.87596705, -0.291576712), (-5.938894906, -0.534276038))
        make_face()
        with BuildLine():
            Line((-2.83217089, -1.616218581), (-1.698971441, 1.44251629))
            ThreePointArc((-1.698971441, 1.44251629), (-1.926782442, 1.54723031), (-2.16782911, 1.616218581))
            Line((-2.16782911, 1.616218581), (-3.301028559, -1.44251629))
            ThreePointArc((-3.301028559, -1.44251629), (-3.073217558, -1.54723031), (-2.83217089, -1.616218581))
        make_face()
    extrude(amount=-CUT_EXTRUDE7_DEPTH, mode=Mode.SUBTRACT)

    # Sketch14 → Extrude6 (add, symmetric)
    with BuildSketch(Plane.ZY.offset(2.5)):
        Polygon((2.45, 5.6), (3.03887637, 3.861674443), (0.167170254, 1.787608865), (-0.546359637, 2.097431054), (-0.705673534, 1.730526322), (0.216750724, 1.33), (3.512480259, 3.710312924), (2.736824279, 6), (-1.8, 6), (-1.8, 5.6), align=None)
    extrude6 = extrude(amount=EXTRUDE6_DEPTH, both=True)

    # Sketch15 → Extrude9 (add)
    with BuildSketch(Plane(origin=(0, 1.449355072, 4.278403908), x_dir=(1, 0, 0), z_dir=(0, 0.320850379, 0.947129893))):
        Polygon((-1.555, 4.8), (-1.555, 2.903968921), (-0.51, 4.8), align=None)
        Polygon((-3.445, 4.8), (-3.445, 2.903968921), (-4.49, 4.8), align=None)
    extrude9 = extrude(amount=-EXTRUDE9_DEPTH)

    # LPattern1: Extrude6, Extrude9 ×3
    with Locations(*[(i * LPATTERN1_PITCH, 0, 0) for i in range(1, LPATTERN1_COUNT)]):
        add(extrude6)
        add(extrude9)

    # Fillet1
    fillet1_edges = [part.edges().sort_by_distance(p)[0] for p in [
        (-2.5, 3.861674443, 3.03887637),
        (-2.5, 1.787608865, 0.167170254),
        (2.5, 3.861674443, 3.03887637),
        (2.5, 1.787608865, 0.167170254),
        (7.5, 3.861674443, 3.03887637),
        (7.5, 1.787608865, 0.167170254),
    ]]
    fillet(fillet1_edges, radius=FILLET1_R)

    # Fillet2
    fillet2_edges = [part.edges().sort_by_distance(p)[0] for p in [
        (-2.5, 3.710312924, 3.512480259),
        (-2.5, 1.33, 0.216750724),
        (2.5, 1.33, 0.216750724),
        (2.5, 3.710312924, 3.512480259),
        (7.5, 3.710312924, 3.512480259),
        (7.5, 1.33, 0.216750724),
    ]]
    fillet(fillet2_edges, radius=FILLET2_R)


solid = part.part
